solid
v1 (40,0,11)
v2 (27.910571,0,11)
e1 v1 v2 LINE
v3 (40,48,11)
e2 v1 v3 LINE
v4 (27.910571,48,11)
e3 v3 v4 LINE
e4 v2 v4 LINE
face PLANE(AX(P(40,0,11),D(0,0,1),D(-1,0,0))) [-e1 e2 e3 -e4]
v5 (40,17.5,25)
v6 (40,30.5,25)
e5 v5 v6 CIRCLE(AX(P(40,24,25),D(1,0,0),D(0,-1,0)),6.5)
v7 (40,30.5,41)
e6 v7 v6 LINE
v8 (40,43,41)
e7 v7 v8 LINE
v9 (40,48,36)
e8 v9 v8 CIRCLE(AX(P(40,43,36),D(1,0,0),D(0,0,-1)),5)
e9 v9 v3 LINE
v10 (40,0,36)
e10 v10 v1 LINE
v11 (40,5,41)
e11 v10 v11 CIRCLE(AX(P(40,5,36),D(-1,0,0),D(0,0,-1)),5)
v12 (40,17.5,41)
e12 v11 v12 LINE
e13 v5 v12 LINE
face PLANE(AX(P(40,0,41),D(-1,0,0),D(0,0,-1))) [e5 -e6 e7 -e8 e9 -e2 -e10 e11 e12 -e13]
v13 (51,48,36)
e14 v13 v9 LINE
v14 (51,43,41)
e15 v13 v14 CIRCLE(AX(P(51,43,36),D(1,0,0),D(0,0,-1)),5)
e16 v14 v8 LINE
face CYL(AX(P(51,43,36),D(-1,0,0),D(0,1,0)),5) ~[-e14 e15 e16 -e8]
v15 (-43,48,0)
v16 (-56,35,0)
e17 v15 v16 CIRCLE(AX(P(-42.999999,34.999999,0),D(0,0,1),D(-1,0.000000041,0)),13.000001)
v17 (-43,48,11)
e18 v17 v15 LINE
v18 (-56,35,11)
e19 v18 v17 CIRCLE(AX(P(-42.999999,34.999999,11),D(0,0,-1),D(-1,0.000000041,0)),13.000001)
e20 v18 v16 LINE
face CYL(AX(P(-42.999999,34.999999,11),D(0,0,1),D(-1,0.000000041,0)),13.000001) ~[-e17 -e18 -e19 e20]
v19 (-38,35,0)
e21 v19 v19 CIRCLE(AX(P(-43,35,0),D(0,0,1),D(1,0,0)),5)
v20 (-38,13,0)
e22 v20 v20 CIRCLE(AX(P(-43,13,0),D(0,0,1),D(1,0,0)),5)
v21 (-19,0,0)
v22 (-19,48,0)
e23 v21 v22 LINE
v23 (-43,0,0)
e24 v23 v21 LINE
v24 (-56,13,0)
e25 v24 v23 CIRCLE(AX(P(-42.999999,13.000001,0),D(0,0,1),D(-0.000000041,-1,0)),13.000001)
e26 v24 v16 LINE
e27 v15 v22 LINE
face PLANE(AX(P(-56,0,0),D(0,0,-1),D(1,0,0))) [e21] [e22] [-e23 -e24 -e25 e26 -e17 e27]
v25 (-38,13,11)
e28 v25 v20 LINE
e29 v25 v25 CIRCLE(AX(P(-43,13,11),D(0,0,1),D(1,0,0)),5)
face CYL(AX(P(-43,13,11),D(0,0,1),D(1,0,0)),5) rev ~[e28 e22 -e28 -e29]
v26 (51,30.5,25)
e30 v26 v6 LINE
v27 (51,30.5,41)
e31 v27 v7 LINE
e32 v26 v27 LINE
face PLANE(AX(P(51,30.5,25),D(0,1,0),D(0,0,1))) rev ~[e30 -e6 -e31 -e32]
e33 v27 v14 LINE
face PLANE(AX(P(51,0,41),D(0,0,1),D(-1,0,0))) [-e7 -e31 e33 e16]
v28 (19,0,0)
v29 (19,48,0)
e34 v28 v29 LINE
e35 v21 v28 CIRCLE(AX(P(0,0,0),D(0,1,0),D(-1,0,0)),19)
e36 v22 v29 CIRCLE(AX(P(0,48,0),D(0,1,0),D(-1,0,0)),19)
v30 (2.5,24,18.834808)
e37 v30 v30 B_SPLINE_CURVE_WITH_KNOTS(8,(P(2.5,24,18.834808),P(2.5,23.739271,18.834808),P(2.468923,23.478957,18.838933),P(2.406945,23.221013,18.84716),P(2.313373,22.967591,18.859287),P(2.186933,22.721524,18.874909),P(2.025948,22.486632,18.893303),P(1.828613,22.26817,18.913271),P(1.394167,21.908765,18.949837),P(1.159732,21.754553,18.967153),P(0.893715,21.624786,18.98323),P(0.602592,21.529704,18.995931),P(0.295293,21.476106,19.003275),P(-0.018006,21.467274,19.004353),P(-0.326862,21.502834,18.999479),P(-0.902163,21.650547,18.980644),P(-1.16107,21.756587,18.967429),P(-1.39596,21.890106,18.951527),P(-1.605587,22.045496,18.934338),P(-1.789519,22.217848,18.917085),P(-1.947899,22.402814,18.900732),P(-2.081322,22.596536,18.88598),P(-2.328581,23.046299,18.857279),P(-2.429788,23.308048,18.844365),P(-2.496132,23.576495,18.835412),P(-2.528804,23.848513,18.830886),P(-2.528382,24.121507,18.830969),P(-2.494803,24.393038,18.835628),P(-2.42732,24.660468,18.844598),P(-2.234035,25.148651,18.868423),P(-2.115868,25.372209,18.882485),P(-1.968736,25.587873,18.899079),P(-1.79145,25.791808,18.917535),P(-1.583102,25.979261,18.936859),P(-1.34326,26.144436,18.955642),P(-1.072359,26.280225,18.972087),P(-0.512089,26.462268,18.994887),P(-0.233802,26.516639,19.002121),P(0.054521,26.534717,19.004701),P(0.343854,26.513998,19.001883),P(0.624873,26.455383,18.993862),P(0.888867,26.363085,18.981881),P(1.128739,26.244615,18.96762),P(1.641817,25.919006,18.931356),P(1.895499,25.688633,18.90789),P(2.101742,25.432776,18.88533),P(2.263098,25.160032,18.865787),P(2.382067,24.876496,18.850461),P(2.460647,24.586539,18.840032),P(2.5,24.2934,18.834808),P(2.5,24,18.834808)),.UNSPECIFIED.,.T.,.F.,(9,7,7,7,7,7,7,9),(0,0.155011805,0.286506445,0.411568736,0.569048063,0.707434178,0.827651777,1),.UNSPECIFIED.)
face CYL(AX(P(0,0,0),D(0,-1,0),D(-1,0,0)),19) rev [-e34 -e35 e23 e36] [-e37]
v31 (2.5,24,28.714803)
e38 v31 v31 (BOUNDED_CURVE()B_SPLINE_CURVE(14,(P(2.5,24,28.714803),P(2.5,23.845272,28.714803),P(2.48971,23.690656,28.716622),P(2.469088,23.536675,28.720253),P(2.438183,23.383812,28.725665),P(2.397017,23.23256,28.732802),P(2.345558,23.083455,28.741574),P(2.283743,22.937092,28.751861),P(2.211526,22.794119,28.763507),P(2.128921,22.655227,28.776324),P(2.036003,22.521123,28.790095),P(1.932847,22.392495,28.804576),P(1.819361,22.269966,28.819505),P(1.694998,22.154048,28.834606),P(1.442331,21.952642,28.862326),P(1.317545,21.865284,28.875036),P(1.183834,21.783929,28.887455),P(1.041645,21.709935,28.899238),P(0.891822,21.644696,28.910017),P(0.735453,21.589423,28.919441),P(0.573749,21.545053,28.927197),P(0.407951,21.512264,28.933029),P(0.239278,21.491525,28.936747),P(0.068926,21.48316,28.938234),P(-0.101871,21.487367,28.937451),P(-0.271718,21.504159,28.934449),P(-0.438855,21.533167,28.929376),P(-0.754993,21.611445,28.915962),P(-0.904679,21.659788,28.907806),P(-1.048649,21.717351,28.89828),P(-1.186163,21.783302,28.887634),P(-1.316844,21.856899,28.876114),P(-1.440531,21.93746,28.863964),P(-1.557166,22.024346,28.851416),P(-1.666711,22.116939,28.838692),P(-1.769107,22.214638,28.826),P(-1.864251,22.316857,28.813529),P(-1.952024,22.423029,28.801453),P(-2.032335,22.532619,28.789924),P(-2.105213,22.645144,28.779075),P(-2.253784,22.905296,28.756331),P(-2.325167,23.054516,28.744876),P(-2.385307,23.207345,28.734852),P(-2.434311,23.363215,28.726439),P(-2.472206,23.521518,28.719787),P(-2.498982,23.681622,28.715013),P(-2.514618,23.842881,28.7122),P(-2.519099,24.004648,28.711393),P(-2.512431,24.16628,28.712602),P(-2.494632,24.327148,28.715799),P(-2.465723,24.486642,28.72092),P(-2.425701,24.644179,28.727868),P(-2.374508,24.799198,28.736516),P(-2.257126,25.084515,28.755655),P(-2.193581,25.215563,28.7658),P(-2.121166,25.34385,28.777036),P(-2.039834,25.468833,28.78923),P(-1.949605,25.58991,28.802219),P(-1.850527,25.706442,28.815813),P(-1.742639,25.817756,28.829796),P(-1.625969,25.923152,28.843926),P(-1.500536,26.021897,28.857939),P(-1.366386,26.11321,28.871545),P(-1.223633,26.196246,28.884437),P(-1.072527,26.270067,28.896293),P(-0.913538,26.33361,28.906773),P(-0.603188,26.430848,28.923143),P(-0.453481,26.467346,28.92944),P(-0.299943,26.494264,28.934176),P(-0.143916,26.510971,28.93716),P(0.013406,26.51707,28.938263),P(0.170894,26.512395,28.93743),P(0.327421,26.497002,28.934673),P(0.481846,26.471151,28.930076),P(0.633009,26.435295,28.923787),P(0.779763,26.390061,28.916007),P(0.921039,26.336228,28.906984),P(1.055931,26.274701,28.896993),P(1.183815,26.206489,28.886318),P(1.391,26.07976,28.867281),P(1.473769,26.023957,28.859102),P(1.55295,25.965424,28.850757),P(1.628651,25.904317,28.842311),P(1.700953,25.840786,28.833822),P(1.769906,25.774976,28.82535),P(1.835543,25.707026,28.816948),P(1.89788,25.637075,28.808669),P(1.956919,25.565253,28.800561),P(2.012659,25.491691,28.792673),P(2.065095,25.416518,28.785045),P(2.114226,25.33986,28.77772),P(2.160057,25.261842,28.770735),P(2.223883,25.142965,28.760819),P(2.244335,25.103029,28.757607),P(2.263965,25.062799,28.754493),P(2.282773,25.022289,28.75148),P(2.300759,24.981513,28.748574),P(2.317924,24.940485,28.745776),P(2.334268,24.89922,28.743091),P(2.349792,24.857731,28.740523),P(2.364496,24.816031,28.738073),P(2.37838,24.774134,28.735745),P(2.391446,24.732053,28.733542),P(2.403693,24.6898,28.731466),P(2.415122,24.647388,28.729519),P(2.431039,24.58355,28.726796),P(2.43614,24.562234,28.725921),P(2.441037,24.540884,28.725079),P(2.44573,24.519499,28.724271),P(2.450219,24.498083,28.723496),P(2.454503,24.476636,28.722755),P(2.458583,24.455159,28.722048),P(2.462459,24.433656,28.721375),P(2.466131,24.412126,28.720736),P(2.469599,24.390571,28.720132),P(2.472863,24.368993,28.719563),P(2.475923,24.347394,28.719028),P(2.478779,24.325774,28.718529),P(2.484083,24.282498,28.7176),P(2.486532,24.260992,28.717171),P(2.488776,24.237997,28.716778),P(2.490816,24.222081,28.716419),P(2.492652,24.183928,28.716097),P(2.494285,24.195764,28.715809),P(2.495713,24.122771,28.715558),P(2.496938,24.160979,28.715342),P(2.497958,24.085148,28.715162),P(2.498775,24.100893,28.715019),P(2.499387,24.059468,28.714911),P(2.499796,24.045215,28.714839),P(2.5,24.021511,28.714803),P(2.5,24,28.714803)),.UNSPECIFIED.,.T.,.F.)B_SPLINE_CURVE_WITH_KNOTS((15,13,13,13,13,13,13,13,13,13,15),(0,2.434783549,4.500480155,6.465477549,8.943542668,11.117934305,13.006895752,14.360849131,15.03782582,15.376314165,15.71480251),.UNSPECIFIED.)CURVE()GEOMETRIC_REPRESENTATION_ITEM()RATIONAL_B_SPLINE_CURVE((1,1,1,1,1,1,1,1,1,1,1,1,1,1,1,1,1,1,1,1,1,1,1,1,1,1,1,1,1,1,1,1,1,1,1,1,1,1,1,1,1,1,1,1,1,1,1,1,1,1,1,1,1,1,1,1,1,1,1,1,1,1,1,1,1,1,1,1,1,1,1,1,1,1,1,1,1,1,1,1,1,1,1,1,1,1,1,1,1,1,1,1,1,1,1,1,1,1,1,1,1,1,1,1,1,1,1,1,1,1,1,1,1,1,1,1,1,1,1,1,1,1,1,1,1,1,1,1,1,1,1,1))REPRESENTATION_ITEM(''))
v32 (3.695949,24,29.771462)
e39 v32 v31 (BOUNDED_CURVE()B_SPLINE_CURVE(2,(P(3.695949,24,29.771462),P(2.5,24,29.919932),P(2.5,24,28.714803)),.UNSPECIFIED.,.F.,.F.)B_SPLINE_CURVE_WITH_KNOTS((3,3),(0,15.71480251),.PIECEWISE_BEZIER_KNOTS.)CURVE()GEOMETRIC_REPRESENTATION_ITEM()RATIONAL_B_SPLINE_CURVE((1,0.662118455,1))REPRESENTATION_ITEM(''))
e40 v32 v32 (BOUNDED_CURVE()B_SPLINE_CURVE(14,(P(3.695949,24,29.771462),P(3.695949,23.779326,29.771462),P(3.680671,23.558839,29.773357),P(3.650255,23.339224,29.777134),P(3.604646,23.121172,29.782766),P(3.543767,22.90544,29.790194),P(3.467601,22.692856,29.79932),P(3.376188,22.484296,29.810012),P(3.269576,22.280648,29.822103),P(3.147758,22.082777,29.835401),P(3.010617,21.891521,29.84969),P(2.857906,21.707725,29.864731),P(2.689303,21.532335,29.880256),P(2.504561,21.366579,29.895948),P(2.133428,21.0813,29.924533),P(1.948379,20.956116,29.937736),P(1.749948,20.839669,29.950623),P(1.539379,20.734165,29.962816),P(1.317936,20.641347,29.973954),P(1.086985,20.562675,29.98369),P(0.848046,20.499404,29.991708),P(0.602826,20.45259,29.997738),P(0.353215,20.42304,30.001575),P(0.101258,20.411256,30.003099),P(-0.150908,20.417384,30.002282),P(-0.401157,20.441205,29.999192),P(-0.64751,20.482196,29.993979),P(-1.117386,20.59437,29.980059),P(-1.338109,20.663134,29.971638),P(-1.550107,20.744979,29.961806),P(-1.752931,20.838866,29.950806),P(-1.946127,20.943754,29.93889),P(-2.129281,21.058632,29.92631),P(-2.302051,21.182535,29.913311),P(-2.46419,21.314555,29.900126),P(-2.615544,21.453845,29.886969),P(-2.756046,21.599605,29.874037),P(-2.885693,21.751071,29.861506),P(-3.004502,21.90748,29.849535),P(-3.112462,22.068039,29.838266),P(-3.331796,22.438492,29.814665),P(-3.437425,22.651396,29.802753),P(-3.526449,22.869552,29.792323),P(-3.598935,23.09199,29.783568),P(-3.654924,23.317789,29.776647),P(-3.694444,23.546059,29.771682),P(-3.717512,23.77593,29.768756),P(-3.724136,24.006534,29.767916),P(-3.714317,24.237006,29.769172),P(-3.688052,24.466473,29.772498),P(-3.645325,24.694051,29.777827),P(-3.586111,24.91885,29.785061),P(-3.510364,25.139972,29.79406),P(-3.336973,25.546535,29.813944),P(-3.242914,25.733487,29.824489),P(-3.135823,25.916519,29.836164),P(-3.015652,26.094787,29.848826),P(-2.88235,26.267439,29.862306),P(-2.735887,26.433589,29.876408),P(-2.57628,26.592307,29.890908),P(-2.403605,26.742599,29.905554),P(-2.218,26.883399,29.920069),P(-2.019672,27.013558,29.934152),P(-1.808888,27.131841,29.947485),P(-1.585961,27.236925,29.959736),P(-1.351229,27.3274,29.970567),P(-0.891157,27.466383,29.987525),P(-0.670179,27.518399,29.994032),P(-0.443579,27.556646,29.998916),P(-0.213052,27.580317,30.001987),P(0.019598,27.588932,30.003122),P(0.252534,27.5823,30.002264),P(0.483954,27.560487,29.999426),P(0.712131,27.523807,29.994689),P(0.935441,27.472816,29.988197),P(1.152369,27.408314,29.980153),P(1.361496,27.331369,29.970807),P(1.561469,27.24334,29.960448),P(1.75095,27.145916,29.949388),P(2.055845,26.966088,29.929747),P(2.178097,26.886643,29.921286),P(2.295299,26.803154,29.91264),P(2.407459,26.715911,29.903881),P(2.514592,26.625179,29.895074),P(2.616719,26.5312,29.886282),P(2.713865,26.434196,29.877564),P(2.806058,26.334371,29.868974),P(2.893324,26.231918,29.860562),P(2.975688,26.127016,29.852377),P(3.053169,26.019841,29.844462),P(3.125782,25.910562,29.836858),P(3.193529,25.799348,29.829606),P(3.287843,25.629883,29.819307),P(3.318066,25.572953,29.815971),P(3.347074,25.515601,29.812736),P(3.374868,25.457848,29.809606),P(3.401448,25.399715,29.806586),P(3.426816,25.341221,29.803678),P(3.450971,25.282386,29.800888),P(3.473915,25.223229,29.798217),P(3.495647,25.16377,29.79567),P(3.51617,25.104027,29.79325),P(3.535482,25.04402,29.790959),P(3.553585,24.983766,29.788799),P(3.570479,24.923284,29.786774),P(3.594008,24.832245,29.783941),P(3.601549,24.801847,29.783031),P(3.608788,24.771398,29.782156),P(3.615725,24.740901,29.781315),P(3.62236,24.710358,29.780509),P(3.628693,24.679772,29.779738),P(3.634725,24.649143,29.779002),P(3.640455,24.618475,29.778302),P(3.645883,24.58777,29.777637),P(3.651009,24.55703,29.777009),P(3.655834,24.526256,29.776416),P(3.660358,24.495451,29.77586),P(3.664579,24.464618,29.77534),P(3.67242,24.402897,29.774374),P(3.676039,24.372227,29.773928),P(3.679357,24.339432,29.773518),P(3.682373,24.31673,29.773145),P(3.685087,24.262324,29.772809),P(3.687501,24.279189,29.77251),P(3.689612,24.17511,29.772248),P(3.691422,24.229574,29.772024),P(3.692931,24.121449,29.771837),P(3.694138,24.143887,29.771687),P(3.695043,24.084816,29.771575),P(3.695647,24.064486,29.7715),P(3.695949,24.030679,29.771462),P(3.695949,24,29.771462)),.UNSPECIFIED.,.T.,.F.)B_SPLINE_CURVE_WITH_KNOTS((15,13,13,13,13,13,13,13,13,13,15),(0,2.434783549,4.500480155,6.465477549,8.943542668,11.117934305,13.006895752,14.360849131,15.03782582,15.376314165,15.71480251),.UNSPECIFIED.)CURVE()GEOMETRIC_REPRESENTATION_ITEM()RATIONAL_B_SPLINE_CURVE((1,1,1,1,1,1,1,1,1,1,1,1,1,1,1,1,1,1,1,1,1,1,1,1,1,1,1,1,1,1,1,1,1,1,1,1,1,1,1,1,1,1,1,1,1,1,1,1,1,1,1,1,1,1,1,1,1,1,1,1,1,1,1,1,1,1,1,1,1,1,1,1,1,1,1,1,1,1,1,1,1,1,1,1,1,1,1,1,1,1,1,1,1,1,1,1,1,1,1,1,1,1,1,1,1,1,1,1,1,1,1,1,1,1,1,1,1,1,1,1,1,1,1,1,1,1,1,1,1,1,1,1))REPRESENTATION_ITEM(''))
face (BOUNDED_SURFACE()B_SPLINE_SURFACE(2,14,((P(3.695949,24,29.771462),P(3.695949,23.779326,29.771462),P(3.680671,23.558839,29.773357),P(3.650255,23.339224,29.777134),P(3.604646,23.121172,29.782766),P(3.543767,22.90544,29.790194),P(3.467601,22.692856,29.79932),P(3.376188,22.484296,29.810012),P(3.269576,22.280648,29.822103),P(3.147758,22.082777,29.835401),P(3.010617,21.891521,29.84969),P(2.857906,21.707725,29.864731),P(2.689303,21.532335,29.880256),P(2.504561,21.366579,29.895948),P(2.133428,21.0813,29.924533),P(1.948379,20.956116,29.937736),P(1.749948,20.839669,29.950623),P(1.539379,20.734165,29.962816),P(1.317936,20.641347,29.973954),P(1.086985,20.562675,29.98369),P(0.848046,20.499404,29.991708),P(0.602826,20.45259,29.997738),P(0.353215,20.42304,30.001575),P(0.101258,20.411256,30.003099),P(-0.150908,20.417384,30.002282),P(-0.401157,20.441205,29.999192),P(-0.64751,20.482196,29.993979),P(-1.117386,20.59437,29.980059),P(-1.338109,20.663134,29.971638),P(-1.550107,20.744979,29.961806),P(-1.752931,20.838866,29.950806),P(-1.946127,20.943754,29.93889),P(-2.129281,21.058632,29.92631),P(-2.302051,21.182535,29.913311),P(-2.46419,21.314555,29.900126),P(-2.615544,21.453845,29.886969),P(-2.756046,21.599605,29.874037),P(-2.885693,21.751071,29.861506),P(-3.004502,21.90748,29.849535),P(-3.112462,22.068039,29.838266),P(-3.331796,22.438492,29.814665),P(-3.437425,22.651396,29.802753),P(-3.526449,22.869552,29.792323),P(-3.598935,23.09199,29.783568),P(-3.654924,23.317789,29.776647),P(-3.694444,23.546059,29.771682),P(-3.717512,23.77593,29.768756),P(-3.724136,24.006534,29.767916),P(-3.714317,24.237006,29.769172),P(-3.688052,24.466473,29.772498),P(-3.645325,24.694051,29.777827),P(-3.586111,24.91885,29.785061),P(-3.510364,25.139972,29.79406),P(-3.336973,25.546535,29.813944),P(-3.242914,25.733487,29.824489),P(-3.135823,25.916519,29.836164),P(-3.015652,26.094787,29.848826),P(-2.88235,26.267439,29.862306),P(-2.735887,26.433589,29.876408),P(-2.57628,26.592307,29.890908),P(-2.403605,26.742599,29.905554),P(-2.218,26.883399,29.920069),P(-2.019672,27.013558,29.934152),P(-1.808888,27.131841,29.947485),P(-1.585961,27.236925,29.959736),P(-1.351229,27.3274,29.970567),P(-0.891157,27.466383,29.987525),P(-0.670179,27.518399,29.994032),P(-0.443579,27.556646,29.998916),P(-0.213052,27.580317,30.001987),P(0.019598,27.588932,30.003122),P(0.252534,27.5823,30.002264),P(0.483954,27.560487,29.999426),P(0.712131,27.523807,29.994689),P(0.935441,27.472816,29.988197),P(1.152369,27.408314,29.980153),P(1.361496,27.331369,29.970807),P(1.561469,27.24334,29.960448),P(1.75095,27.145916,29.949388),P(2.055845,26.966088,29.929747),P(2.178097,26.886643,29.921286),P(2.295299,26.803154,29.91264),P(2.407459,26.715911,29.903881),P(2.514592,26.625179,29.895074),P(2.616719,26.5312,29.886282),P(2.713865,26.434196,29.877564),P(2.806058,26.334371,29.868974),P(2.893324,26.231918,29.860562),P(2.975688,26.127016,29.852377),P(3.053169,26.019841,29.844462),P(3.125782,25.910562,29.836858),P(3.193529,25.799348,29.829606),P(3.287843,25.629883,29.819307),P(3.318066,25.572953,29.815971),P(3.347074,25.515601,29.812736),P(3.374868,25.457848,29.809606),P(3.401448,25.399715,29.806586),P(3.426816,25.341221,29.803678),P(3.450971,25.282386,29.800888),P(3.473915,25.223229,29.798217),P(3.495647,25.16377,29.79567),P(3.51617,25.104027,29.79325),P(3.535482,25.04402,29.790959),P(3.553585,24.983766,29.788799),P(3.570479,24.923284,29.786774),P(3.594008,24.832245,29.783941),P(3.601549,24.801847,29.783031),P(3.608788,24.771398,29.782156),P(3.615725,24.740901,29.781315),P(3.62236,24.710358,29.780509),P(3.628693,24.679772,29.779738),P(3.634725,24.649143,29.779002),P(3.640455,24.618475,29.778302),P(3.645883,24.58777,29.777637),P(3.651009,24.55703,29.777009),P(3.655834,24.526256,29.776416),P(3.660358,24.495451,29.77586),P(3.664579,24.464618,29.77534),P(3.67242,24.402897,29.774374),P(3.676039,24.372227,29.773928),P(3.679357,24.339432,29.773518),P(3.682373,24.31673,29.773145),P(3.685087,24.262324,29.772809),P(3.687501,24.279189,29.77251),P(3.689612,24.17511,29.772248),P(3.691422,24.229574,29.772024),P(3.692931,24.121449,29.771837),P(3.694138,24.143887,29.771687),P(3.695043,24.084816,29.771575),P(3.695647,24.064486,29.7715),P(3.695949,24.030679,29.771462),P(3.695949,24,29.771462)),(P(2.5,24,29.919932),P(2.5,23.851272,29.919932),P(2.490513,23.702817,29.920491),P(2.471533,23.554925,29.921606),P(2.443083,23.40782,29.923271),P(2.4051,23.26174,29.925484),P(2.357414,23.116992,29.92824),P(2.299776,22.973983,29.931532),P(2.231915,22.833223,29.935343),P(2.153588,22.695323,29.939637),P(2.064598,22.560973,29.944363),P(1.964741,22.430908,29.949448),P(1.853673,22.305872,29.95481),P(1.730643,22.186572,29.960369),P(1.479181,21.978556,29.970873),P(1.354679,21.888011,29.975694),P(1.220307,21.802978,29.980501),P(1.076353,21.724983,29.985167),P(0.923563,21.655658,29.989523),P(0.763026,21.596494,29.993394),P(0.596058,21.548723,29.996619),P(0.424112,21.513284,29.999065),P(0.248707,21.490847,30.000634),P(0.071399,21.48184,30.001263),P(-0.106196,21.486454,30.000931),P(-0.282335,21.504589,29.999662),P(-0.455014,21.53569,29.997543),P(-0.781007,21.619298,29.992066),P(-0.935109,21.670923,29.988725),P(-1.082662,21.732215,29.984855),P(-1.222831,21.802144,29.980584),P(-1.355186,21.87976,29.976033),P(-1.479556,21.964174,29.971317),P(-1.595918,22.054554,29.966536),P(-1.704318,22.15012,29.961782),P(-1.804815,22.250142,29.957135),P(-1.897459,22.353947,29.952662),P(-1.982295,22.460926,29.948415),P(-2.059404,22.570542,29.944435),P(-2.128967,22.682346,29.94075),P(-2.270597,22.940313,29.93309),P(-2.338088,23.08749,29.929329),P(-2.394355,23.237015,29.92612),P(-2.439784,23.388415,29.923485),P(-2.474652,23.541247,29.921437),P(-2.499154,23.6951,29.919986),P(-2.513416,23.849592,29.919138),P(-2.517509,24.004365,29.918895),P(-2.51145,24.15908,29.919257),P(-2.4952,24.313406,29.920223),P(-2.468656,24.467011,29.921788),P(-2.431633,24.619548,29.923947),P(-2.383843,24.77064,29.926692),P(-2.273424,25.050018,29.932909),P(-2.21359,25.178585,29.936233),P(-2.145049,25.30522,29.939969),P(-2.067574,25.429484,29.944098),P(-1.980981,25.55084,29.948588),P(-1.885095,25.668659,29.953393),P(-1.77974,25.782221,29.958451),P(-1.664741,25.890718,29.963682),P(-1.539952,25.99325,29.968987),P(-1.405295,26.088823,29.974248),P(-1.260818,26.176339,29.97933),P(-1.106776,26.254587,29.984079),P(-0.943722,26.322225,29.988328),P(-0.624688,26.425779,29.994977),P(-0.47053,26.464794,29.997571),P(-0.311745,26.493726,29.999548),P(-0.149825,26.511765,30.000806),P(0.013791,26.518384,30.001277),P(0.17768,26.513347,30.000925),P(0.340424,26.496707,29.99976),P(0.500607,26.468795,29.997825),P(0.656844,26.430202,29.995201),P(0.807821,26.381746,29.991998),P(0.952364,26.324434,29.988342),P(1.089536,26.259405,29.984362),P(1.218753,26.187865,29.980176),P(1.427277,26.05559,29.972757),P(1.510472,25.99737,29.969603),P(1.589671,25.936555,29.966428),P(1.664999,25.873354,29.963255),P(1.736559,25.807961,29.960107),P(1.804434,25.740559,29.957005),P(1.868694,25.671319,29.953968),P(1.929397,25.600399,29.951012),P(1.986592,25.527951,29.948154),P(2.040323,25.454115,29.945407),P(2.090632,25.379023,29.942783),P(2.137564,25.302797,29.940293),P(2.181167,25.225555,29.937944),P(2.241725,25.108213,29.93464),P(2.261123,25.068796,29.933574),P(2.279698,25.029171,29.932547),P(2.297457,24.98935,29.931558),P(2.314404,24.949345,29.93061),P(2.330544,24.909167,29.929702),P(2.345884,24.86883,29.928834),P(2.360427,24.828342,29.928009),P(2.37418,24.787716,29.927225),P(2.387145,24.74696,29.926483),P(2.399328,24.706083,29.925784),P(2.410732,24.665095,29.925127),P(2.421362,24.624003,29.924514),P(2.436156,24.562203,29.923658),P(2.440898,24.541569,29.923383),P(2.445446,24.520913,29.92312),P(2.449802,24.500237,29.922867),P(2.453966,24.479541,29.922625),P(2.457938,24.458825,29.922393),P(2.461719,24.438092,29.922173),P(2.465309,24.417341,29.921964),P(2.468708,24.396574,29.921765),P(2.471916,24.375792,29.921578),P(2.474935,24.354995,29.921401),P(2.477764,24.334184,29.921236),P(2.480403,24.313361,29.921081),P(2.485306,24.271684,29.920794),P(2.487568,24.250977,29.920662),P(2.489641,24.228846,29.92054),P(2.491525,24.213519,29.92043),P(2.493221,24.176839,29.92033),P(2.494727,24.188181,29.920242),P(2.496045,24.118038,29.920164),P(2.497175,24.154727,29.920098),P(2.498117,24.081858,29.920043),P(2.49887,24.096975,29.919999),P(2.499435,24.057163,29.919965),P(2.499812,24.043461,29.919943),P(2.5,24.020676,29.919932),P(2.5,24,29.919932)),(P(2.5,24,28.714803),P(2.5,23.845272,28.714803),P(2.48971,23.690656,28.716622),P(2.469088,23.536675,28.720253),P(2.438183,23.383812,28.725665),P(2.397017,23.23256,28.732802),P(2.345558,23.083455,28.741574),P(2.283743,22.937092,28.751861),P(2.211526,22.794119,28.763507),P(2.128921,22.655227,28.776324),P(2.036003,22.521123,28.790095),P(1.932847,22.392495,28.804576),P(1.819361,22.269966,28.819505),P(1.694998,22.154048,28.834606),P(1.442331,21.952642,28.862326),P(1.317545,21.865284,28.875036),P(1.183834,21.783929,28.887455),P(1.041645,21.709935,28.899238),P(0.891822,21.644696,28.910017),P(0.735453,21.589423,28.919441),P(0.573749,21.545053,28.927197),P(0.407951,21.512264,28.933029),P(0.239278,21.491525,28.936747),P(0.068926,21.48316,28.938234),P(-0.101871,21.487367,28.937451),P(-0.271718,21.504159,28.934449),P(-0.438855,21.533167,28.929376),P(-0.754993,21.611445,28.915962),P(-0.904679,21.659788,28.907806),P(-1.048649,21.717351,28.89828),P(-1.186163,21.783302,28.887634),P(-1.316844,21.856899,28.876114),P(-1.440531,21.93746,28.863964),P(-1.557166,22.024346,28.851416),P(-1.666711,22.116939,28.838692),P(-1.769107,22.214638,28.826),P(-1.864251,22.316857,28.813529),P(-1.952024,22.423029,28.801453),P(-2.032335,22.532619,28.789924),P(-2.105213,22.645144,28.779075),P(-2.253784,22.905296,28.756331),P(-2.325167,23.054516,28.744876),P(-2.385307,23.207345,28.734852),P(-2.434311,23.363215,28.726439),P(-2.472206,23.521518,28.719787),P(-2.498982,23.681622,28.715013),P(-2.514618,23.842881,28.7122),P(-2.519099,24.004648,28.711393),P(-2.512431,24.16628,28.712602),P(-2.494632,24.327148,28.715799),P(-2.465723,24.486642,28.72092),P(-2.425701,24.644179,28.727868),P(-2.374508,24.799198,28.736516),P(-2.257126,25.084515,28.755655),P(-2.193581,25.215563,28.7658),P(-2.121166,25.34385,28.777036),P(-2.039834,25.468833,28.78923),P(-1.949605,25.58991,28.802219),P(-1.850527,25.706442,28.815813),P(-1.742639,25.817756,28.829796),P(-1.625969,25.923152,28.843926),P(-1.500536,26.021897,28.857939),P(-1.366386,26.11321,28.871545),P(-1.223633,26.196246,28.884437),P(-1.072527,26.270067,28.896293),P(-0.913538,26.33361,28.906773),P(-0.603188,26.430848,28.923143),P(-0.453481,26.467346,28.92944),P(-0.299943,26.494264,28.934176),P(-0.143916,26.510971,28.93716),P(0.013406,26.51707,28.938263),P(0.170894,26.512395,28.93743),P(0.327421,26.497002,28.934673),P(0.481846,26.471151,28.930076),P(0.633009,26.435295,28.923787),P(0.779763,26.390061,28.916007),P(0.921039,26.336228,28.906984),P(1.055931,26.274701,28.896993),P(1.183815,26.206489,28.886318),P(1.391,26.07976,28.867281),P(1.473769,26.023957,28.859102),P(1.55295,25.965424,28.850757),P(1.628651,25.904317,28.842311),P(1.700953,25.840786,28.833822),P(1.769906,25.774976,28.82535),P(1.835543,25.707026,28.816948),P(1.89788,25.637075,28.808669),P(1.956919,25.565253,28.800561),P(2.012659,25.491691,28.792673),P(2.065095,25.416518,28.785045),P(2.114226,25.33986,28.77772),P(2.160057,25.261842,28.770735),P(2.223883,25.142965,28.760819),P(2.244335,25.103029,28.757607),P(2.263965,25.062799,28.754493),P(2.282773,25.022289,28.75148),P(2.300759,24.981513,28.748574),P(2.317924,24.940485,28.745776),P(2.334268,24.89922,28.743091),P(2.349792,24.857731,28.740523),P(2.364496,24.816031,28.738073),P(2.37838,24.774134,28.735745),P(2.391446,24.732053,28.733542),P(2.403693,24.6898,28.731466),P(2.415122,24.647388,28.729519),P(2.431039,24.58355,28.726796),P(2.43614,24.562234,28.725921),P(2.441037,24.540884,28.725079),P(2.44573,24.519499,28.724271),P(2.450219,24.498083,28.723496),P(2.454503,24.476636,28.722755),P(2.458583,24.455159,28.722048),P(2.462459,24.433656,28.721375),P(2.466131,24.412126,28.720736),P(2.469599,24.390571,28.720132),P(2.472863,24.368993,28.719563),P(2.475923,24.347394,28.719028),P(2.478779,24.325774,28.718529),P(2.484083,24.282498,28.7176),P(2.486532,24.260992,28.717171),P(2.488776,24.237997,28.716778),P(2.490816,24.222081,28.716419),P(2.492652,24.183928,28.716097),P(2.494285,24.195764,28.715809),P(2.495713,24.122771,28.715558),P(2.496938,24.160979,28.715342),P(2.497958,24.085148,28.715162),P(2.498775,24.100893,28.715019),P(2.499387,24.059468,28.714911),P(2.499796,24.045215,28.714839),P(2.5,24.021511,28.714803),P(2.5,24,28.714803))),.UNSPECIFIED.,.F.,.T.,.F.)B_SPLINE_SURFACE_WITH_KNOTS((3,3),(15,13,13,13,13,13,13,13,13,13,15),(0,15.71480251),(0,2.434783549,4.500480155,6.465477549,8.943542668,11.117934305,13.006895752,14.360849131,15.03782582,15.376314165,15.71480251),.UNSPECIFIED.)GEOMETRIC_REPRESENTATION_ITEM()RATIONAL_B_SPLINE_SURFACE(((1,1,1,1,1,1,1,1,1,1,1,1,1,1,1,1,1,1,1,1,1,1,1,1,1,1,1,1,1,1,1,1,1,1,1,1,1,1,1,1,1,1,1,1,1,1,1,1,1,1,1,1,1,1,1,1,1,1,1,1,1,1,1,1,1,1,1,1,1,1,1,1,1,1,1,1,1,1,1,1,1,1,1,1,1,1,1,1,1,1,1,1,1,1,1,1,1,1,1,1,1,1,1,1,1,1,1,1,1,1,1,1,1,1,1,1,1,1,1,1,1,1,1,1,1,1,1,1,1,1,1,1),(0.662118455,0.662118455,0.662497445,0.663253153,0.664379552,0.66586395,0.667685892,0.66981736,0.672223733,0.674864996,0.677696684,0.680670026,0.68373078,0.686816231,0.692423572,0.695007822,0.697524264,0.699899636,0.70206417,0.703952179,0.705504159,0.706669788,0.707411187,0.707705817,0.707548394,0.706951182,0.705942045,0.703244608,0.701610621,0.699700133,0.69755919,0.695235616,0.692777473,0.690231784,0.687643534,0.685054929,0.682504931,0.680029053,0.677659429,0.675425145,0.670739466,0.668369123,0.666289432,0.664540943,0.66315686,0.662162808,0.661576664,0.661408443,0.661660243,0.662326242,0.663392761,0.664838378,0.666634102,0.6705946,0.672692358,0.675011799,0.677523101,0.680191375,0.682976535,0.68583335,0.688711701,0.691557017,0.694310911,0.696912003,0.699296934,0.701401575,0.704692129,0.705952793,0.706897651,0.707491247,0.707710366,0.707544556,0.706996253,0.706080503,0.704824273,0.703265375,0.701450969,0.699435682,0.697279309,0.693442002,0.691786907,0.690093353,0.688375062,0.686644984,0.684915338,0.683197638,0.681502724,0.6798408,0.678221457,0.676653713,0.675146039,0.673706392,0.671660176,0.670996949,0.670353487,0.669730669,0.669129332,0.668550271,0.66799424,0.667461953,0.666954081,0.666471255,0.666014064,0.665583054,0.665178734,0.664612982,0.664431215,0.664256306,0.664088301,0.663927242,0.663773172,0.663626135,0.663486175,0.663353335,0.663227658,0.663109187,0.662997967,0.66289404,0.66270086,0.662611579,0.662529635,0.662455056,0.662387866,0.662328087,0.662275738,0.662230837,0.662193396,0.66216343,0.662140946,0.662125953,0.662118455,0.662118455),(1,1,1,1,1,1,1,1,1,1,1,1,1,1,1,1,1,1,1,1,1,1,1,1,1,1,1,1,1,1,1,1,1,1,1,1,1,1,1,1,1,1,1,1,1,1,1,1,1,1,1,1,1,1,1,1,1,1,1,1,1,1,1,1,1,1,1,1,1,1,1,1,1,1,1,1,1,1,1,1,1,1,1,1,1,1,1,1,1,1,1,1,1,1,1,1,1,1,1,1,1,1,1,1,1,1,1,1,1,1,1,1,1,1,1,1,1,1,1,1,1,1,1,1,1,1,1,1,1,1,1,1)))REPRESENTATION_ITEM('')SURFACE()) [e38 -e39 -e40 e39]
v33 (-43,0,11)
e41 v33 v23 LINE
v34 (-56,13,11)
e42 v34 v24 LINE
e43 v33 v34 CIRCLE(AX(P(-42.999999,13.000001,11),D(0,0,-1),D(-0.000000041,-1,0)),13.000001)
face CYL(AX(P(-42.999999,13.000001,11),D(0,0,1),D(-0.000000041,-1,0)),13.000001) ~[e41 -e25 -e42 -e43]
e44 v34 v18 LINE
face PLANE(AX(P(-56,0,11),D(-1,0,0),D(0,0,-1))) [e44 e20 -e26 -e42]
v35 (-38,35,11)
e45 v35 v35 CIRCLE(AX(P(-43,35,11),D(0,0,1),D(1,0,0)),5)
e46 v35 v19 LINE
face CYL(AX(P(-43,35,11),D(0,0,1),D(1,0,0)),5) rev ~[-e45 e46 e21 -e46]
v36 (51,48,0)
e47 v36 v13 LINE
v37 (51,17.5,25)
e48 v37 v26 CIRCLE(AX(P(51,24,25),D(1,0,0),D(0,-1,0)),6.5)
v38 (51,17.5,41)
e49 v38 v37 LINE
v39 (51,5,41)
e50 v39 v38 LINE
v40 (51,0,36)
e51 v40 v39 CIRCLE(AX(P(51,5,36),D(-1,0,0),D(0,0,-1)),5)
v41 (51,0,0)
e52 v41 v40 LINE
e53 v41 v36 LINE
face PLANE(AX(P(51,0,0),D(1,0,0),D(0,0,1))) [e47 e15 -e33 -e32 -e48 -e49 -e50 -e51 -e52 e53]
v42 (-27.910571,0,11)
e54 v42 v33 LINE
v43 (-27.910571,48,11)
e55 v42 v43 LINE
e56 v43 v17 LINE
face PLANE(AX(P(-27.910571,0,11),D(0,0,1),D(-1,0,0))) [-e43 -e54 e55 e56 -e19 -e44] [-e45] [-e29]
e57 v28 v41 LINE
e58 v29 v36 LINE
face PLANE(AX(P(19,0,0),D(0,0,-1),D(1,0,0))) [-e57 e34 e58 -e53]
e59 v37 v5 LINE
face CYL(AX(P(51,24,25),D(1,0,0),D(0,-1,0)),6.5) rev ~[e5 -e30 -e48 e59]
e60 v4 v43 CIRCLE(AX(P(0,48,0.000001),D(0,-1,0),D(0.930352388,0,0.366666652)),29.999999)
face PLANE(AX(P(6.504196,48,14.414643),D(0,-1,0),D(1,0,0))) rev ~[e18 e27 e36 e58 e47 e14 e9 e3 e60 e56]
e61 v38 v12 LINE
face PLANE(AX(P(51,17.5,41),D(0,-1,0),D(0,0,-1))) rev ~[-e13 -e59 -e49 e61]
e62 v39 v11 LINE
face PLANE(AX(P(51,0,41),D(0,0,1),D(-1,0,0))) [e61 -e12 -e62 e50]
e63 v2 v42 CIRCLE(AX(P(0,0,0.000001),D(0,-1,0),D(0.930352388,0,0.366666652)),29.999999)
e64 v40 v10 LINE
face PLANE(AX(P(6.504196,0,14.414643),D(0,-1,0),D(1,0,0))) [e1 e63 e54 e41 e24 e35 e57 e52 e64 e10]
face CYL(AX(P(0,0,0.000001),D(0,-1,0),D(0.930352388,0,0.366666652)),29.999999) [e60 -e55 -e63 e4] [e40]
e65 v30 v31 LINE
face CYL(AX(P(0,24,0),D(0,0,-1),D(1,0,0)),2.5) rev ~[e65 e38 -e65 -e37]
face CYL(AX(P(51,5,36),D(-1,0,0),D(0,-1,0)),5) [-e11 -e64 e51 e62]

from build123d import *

# Parameters (mm, degrees)
F1_DEPTH = 48
F2_R     = 5
F3_DEPTH = 11.001
F5_DEPTH = 15.748
F6_R     = 2.5
F7_DEPTH = 41.001
F8_R     = 1.064771
F9_R     = 5


with BuildPart() as f1:
    # F0 (on Front) → F1 (new body)
    with BuildSketch(Plane.XZ):
        with BuildLine():
            Line((-27.910571, 11), (-56, 11))
            Line((-56, 11), (-56, 0))
            Line((-56, 0), (-19, 0))
            ThreePointArc((-19, 0), (0, 19), (19, 0))
            Line((19, 0), (51, 0))
            Line((51, 0), (51, 41))
            Line((51, 41), (40, 41))
            Line((40, 41), (40, 11))
            Line((40, 11), (27.910571, 11))
            ThreePointArc((27.910571, 11), (0, 30), (-27.910571, 11))
        make_face()
    extrude(amount=-F1_DEPTH)

    # F2 (on face) → F3 (cut, through all)
    with BuildSketch(Plane.XY.offset(11)):
        with Locations((-43, 35)):
            Circle(F2_R)
        with Locations((-43, 13)):
            Circle(F2_R)
        with BuildLine():
            Line((-56, 48), (-56, 35))
            ThreePointArc((-56, 35), (-52.192388, 44.192388), (-43, 48))
            Line((-43, 48), (-56, 48))
        make_face()
        with BuildLine():
            Line((-56, 0), (-43, 0))
            ThreePointArc((-43, 0), (-52.192388, 3.807612), (-56, 13))
            Line((-56, 13), (-56, 0))
        make_face()
    extrude(amount=-F3_DEPTH, mode=Mode.SUBTRACT)

    # F4 (on face) → F5 (cut)
    with BuildSketch(Plane.YZ.offset(51)):
        with BuildLine():
            Line((30.5, 41), (17.5, 41))
            Line((17.5, 41), (17.5, 25))
            ThreePointArc((17.5, 25), (24, 18.5), (30.5, 25))
            Line((30.5, 25), (30.5, 41))
        make_face()
    extrude(amount=-F5_DEPTH, mode=Mode.SUBTRACT)

    # F6 (on face) → F7 (cut, through all)
    with BuildSketch(Plane(origin=(0, 0, 0), x_dir=(1, 0, 0), z_dir=(0, 0, -1))):
        with Locations((0, -24)):
            Circle(F6_R)
    extrude(amount=-F7_DEPTH, mode=Mode.SUBTRACT)

    # F8
    f8_edges = [f1.edges().sort_by_distance(p)[0] for p in [
        (-2.5, 24, 29.895652),
    ]]
    fillet(f8_edges, radius=F8_R)

    # F9
    f9_edges = [f1.edges().sort_by_distance(p)[0] for p in [
        (45.5, 0, 41),
        (45.5, 48, 41),
    ]]
    fillet(f9_edges, radius=F9_R)


solid = f1.part
